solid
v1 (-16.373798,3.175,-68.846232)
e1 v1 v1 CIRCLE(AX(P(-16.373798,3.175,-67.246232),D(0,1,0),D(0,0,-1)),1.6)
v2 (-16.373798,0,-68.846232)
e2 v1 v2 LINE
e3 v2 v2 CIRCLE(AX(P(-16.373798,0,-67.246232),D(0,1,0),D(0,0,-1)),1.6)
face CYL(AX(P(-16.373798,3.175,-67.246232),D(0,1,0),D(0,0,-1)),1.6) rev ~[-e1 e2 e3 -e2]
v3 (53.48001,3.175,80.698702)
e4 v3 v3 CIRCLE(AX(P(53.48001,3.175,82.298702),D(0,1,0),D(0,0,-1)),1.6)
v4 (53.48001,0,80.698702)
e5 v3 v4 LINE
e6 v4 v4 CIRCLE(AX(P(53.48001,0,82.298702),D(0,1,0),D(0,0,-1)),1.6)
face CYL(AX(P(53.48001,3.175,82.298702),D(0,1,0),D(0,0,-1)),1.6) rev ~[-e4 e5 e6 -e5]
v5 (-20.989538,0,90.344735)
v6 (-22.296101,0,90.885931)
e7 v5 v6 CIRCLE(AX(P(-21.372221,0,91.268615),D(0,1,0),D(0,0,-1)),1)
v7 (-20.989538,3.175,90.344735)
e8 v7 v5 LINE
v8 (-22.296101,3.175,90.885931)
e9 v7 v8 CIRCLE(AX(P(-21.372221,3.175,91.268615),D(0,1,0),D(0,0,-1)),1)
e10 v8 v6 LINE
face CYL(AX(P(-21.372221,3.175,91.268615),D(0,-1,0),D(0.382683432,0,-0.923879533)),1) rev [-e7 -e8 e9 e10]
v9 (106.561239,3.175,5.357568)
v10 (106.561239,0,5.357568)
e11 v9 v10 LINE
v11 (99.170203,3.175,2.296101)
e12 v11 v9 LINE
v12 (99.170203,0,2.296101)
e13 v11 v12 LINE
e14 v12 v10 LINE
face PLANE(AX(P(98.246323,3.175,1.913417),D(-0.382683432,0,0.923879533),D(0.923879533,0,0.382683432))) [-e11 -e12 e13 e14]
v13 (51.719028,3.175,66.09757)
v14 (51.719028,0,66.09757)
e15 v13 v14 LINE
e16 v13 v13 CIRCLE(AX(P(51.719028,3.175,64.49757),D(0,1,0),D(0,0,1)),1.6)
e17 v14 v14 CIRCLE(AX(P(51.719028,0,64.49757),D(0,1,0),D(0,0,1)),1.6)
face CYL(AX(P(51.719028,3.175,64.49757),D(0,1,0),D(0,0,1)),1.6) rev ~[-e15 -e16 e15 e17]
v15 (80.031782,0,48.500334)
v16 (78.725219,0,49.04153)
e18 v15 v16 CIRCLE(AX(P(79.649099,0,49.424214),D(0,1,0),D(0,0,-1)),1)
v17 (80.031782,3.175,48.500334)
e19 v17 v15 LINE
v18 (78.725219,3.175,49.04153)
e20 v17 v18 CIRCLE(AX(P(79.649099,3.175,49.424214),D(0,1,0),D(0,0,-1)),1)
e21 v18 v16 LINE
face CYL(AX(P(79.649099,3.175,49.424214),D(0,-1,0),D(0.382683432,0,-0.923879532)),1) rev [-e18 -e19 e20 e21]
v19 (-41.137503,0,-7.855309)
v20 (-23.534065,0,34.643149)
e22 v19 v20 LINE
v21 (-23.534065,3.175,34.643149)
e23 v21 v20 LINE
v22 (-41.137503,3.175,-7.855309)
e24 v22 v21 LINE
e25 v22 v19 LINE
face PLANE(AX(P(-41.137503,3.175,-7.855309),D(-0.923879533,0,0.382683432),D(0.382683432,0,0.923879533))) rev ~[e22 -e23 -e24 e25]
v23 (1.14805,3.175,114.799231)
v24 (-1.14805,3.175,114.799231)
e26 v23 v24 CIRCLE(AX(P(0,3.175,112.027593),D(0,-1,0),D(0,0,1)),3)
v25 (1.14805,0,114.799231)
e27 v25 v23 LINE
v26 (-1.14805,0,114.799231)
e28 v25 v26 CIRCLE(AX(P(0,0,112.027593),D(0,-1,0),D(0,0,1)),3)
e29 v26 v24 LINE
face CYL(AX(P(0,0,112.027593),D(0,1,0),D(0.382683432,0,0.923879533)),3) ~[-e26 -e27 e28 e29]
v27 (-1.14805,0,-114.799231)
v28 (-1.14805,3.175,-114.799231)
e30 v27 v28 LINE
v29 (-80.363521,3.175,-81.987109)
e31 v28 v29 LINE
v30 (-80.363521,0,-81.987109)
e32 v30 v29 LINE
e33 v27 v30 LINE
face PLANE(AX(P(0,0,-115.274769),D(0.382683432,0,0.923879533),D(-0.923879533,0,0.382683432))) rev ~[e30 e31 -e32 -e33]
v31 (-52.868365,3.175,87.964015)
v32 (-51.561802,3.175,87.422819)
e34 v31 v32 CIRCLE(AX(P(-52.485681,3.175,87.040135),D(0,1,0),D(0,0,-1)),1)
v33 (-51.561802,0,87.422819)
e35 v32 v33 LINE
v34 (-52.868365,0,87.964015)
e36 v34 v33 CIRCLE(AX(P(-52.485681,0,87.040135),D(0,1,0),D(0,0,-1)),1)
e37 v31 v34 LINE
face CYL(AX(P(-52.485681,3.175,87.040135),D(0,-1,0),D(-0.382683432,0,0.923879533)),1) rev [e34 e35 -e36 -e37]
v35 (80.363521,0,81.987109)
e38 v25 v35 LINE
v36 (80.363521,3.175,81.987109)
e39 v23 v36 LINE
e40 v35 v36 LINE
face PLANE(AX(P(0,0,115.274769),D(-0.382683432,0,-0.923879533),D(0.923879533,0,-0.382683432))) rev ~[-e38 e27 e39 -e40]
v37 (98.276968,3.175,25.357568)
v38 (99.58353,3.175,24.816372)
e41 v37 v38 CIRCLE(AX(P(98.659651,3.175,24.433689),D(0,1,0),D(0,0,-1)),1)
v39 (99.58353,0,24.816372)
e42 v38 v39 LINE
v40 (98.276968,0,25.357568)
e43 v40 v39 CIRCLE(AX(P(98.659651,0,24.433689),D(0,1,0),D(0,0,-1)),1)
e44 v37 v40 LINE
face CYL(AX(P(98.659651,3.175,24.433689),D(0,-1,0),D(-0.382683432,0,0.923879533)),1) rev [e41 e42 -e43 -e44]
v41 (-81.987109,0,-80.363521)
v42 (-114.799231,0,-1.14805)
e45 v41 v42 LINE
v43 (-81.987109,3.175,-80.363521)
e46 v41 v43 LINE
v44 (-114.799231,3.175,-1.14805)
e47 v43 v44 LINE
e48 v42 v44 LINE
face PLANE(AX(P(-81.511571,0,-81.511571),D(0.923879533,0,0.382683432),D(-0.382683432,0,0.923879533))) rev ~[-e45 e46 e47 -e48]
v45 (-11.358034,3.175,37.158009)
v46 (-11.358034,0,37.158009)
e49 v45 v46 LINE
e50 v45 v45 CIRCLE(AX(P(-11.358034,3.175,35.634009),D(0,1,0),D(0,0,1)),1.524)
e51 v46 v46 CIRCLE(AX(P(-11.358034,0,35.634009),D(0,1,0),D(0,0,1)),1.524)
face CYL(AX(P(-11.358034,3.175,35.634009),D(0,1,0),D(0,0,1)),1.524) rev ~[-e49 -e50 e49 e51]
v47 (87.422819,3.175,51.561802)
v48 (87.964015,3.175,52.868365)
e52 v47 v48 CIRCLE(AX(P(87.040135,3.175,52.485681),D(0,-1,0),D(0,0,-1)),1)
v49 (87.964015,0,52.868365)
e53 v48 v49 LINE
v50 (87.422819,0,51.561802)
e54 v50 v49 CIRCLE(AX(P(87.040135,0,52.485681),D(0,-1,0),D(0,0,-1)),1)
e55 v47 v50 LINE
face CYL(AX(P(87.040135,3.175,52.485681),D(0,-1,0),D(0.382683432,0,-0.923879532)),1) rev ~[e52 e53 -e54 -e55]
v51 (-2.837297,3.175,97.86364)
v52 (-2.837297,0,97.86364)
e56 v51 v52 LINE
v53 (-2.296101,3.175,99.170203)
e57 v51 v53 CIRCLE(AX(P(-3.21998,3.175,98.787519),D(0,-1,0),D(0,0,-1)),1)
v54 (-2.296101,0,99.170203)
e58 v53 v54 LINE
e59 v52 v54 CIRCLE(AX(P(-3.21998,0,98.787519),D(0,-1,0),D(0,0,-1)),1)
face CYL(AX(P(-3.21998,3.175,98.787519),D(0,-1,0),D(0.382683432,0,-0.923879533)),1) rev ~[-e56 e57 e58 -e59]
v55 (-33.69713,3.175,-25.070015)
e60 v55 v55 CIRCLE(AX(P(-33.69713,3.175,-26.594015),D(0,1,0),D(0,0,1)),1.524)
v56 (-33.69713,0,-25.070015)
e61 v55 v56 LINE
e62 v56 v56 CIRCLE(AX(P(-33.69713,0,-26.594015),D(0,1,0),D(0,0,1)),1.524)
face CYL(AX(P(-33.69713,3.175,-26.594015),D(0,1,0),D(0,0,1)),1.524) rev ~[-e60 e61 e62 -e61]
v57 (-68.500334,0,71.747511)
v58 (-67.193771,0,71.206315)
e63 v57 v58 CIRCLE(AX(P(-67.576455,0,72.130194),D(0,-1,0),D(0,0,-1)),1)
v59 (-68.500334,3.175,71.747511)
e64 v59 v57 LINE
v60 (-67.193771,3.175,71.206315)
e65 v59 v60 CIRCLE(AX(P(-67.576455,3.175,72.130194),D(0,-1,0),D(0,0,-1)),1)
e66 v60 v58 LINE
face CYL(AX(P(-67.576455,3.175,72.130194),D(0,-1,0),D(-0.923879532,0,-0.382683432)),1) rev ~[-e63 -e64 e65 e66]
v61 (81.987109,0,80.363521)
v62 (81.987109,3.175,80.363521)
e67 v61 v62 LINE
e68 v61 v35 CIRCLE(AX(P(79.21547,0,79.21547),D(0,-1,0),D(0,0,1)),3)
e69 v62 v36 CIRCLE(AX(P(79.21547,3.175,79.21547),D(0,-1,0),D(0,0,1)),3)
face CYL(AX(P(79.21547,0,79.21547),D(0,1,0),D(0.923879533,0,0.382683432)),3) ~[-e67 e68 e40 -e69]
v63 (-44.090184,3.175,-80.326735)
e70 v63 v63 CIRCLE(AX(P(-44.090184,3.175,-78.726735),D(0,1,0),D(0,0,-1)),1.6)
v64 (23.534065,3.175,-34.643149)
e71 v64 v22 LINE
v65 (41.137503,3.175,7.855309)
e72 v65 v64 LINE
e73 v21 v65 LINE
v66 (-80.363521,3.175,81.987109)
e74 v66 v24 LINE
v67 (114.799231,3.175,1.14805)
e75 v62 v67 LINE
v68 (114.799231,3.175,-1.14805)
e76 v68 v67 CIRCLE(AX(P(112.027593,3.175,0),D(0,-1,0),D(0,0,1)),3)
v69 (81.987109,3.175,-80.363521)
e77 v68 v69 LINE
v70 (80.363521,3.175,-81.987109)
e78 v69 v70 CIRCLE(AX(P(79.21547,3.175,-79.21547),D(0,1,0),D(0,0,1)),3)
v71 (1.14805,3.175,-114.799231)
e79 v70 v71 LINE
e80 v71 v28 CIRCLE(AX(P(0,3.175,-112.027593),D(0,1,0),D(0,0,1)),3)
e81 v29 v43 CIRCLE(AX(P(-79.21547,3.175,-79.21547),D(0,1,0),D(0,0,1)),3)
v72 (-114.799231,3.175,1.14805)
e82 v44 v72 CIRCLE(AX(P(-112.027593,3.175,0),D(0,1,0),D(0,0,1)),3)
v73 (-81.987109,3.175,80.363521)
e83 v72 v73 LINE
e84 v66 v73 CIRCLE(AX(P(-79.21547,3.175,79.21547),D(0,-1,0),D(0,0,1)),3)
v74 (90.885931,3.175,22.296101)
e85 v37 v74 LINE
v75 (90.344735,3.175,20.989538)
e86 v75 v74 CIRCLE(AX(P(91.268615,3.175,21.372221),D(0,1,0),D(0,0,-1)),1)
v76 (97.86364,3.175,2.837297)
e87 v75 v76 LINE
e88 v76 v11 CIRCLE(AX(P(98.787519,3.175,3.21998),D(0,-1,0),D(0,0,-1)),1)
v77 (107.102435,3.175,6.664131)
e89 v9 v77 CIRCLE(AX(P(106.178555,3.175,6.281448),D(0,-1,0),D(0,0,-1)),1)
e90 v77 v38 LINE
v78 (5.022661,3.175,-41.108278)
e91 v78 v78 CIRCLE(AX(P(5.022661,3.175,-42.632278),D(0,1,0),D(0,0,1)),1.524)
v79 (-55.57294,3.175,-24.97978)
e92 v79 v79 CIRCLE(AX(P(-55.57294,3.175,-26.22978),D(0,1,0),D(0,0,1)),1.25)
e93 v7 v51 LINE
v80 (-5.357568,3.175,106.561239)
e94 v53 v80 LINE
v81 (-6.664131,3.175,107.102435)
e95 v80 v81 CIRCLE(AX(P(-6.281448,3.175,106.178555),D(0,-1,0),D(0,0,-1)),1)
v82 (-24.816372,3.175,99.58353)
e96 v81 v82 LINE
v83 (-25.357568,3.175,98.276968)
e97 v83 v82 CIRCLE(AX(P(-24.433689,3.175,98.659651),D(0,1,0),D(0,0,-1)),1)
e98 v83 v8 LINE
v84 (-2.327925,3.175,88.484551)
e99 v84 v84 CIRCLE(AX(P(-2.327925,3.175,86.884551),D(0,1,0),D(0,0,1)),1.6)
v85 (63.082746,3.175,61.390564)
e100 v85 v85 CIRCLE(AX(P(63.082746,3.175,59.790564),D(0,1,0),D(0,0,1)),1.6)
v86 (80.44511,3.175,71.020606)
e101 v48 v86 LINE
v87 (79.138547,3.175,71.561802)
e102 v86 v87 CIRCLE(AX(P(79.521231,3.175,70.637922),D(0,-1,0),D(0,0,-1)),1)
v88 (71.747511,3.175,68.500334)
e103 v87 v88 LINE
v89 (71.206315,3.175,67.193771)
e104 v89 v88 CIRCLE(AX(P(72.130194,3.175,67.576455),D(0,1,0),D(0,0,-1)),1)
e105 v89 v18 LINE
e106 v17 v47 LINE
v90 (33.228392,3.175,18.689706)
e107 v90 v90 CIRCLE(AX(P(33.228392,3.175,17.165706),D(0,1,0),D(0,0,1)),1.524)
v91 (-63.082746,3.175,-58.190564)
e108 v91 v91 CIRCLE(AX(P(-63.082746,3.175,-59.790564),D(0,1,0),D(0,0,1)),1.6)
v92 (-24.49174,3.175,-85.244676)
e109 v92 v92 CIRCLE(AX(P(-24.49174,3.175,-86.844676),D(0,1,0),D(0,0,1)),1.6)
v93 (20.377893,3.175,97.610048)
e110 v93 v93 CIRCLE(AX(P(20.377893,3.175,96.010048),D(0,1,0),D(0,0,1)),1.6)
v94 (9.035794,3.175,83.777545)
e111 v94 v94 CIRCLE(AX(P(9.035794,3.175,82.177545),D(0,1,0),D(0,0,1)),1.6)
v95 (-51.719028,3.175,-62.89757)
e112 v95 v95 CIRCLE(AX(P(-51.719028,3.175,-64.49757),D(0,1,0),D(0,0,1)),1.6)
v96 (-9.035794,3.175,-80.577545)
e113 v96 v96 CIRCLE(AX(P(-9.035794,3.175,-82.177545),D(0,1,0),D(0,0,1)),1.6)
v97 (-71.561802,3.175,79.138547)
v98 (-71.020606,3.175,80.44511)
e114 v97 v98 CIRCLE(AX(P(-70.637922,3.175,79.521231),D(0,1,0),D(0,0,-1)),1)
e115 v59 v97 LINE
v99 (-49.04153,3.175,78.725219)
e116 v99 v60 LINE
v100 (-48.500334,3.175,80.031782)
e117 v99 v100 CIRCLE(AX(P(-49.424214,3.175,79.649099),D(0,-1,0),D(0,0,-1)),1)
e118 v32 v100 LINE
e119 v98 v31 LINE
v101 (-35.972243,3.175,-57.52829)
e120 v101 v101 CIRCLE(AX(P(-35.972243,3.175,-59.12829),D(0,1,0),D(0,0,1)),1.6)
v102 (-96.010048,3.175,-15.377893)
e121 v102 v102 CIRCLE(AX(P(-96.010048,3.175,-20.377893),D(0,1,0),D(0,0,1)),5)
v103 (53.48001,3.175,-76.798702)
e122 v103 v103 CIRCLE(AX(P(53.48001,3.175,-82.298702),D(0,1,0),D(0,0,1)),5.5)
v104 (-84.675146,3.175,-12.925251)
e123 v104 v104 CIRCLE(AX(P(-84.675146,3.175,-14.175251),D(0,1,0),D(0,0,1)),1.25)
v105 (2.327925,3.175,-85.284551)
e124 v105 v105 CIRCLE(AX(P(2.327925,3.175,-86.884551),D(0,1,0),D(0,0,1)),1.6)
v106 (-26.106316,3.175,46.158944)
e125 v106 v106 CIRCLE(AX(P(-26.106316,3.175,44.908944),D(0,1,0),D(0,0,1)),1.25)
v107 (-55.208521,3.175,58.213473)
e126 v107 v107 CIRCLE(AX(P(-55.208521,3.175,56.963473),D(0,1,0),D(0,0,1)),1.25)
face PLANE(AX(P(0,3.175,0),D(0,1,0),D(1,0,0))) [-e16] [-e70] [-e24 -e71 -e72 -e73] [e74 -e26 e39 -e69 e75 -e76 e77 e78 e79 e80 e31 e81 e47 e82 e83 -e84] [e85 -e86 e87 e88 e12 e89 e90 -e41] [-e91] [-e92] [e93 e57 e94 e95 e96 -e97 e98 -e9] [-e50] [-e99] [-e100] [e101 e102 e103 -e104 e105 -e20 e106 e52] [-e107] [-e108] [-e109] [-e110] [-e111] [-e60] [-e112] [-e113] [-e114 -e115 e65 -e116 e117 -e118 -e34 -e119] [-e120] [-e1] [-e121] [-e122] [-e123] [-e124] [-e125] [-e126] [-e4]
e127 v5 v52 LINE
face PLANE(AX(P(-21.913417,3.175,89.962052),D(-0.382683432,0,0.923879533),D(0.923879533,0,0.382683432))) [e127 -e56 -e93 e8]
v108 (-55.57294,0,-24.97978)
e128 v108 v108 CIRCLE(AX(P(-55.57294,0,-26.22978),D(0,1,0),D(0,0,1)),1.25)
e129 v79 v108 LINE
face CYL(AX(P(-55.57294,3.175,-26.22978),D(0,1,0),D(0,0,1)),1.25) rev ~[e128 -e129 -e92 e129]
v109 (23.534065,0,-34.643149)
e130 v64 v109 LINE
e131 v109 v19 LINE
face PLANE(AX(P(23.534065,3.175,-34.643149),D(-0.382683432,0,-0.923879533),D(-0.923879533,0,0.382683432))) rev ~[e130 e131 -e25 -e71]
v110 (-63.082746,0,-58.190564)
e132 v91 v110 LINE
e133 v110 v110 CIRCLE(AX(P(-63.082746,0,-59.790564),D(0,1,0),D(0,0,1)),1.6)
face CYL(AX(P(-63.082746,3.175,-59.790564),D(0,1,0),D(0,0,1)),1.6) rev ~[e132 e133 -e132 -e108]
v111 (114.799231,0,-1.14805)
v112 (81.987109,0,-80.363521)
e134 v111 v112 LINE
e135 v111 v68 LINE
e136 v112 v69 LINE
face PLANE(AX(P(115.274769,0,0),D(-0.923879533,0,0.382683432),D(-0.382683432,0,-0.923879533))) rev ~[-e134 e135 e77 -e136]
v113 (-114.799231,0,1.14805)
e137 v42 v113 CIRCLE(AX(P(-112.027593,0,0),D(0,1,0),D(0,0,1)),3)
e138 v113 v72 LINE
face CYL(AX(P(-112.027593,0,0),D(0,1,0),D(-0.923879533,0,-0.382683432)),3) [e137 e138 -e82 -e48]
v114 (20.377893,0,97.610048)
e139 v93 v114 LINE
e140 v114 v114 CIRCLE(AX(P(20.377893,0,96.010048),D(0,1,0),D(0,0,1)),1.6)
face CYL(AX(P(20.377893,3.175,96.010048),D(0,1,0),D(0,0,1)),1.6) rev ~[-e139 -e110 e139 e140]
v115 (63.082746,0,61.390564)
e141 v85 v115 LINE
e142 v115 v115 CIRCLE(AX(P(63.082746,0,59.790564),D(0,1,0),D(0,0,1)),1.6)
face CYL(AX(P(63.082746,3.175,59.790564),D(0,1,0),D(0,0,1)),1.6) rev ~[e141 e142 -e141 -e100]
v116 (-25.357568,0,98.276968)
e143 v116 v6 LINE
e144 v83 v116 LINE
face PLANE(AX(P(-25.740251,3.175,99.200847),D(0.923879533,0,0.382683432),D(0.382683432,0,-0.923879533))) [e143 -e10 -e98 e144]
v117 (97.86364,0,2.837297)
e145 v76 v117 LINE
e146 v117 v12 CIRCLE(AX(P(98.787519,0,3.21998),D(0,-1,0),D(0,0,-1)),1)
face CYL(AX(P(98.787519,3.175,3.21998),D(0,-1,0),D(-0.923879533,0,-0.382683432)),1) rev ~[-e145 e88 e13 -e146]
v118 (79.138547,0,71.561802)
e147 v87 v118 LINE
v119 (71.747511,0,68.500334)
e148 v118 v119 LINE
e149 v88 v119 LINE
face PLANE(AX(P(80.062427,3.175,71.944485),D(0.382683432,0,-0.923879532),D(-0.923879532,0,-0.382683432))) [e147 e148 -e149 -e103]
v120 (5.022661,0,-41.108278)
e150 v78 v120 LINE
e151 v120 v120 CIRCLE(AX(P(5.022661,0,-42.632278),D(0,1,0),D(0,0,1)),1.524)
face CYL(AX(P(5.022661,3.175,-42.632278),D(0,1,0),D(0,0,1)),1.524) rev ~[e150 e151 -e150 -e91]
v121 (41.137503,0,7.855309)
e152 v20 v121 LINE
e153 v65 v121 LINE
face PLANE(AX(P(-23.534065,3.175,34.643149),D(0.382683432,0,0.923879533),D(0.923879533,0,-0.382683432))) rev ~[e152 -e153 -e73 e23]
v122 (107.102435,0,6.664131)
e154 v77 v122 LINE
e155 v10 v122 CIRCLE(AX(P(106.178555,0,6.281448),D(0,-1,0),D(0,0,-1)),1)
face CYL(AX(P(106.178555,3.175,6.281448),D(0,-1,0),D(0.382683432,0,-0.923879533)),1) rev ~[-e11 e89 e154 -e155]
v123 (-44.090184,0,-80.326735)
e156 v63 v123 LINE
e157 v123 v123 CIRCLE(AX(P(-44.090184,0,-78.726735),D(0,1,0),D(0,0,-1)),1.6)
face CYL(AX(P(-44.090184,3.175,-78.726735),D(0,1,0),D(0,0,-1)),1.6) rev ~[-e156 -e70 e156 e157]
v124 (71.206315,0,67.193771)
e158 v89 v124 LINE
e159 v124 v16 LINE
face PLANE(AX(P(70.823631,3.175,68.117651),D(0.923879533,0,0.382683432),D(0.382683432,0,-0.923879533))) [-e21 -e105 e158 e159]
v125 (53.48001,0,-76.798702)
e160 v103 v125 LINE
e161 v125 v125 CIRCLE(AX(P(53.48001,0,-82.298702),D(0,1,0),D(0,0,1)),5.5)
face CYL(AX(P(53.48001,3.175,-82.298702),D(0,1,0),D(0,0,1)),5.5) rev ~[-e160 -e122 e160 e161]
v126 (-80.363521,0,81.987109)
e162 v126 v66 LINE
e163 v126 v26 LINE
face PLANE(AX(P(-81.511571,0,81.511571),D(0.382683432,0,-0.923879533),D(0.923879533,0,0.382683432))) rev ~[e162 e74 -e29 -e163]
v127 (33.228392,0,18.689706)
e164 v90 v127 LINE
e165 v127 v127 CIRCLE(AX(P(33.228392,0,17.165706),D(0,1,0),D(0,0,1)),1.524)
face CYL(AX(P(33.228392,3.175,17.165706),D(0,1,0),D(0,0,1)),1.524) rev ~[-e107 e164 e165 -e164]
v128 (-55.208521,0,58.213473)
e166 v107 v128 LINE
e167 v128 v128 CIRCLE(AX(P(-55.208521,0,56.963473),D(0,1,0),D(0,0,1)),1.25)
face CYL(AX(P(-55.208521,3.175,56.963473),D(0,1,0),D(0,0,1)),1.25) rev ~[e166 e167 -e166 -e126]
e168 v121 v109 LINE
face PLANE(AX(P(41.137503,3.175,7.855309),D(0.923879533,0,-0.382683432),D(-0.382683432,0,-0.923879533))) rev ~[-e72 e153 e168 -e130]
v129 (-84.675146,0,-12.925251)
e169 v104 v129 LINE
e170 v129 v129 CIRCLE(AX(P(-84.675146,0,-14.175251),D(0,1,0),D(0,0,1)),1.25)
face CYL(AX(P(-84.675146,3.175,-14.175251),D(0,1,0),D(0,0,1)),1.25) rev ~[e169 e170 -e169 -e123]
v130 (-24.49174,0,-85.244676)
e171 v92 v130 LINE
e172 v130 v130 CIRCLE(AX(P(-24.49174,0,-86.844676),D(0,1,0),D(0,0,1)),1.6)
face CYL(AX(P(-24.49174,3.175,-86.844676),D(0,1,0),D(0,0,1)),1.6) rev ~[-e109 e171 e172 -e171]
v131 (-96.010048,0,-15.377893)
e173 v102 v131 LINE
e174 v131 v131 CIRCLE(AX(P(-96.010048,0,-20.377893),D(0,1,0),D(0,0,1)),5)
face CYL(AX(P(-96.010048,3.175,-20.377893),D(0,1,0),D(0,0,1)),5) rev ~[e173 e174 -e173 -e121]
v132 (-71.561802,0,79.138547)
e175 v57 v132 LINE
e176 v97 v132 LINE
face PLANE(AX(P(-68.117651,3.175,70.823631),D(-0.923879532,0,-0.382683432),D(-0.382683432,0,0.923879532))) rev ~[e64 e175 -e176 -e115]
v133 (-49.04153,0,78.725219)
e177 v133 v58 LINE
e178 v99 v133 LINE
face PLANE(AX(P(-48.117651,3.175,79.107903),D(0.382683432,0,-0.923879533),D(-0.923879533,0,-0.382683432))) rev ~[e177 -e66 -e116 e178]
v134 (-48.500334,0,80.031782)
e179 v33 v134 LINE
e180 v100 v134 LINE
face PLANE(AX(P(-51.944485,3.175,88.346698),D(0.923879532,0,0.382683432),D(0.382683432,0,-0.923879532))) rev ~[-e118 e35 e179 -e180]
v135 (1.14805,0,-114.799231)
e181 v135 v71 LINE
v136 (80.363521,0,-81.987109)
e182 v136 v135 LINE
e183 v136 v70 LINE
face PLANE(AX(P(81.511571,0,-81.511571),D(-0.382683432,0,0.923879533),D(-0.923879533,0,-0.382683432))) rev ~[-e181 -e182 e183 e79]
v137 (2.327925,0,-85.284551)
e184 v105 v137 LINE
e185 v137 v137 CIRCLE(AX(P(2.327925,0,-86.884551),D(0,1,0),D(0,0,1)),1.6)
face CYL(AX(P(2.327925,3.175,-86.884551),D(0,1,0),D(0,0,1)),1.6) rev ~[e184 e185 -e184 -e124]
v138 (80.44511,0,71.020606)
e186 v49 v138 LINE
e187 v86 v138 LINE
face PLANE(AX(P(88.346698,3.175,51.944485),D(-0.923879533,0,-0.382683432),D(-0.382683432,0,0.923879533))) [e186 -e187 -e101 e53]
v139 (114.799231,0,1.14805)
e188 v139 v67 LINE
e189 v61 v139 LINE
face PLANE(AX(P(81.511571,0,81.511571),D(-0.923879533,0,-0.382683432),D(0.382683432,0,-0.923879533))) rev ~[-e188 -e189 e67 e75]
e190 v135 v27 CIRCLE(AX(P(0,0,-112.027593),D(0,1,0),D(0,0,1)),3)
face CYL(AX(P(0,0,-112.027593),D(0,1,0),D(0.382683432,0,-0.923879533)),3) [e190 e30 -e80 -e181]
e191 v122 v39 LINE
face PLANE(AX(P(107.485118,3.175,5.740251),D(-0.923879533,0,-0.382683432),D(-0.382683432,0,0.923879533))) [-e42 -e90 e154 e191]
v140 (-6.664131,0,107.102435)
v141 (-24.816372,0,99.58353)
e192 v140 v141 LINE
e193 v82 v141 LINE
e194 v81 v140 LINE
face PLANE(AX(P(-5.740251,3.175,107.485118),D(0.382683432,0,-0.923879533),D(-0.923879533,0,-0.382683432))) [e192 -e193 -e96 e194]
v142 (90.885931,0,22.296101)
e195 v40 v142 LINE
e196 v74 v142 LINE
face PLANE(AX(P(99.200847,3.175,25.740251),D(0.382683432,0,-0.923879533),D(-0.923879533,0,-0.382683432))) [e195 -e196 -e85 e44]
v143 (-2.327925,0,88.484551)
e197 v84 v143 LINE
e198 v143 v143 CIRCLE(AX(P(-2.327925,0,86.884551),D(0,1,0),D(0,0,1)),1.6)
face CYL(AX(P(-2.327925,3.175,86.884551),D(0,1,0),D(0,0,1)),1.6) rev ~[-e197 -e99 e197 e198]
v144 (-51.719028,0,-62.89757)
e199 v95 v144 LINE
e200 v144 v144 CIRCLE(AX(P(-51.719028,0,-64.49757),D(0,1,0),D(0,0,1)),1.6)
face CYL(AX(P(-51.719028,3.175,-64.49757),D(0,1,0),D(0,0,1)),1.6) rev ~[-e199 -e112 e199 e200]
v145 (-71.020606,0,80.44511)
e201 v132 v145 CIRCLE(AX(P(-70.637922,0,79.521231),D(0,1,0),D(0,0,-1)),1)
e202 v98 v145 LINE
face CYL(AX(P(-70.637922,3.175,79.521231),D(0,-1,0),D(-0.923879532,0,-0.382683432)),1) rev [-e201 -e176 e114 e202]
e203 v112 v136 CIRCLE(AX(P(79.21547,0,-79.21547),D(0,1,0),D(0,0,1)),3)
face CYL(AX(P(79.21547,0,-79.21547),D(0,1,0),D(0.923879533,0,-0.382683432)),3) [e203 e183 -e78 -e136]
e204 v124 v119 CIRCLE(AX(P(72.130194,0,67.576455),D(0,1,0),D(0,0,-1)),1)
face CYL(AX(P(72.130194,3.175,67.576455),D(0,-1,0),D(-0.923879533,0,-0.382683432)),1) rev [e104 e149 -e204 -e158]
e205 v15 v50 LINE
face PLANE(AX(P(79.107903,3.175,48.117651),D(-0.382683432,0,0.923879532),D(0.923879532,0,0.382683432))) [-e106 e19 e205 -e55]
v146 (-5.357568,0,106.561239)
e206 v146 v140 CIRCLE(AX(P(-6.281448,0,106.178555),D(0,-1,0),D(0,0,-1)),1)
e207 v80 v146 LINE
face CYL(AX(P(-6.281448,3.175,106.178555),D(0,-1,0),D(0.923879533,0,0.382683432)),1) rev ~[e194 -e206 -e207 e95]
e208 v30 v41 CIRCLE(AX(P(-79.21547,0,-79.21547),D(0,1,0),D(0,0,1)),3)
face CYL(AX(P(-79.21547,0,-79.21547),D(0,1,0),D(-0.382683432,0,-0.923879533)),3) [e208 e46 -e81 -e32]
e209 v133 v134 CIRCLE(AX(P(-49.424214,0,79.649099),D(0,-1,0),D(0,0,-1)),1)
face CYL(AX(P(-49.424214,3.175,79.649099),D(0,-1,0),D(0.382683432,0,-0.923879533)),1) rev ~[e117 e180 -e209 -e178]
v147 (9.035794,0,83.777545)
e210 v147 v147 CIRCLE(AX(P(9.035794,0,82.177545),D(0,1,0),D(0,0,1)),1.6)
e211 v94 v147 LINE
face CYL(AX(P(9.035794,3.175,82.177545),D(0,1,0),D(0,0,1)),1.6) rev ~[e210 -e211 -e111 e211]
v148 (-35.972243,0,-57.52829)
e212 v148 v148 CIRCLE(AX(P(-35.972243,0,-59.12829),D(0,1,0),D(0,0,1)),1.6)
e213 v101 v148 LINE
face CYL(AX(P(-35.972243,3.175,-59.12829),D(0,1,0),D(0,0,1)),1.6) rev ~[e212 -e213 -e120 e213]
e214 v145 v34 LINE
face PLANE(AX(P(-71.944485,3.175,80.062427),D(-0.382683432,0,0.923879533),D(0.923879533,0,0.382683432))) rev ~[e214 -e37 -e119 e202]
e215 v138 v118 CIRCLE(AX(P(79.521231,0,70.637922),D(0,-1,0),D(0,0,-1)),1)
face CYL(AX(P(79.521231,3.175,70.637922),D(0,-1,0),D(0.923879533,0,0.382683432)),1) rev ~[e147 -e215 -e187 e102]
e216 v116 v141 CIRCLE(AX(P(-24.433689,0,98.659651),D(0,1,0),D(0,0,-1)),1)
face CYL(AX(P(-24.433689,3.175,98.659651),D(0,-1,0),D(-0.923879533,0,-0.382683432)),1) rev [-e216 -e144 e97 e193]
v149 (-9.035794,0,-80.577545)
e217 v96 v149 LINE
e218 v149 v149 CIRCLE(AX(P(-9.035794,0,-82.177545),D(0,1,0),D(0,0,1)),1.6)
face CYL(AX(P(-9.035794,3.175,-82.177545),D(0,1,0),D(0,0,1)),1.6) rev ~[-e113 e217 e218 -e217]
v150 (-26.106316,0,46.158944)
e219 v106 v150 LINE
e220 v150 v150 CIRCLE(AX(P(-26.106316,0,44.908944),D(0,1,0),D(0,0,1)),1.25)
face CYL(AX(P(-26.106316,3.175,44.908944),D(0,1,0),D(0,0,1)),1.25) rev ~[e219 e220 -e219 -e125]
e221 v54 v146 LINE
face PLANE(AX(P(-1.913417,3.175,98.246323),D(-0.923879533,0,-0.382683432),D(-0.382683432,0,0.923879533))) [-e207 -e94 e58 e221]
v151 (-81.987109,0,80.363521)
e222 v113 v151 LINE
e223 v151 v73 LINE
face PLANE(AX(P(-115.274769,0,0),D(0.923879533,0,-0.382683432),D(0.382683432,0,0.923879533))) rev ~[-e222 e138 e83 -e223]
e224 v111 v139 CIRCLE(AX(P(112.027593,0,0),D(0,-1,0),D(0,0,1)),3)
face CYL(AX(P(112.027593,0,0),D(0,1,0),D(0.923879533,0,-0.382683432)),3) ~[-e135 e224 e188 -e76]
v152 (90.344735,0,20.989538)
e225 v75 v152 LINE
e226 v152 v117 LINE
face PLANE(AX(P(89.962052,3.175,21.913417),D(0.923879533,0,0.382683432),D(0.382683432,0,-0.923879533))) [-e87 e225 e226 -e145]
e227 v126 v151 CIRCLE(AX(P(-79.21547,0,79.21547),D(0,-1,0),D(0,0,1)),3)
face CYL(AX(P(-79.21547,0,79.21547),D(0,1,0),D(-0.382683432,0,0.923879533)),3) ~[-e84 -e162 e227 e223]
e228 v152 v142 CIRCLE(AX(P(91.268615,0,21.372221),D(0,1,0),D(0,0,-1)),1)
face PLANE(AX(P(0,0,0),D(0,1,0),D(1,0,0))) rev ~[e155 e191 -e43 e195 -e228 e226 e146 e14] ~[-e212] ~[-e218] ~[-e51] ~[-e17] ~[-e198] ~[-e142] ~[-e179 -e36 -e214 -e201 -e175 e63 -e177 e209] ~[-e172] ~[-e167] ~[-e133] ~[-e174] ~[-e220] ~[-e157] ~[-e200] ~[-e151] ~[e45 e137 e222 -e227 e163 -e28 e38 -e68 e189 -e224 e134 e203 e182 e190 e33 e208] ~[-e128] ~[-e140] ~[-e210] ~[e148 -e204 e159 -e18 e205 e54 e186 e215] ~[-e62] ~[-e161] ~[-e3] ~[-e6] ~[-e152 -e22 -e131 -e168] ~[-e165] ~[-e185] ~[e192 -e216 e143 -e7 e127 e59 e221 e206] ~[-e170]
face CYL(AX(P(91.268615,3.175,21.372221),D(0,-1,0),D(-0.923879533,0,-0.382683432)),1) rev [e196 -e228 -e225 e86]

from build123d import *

# Parameters (mm, degrees)
BOSS_EXTRUDE1_DEPTH = 3.175
SKETCH2_R           = 1.6
CUT_EXTRUDE1_DEPTH  = 164.054057029
SKETCH3_R           = 5
SKETCH3_R_2         = 1.6
SKETCH3_R_3         = 5.5
CUT_EXTRUDE2_DEPTH  = 164.054057029
SKETCH5_R           = 1.524
CUT_EXTRUDE3_DEPTH  = 164.054057029
CUT_EXTRUDE4_DEPTH  = 164.054057029
SKETCH8_R           = 1.25
CUT_EXTRUDE5_DEPTH  = 164.054057029
SKETCH9_W           = 27.941695013
SKETCH9_H           = 13.477758771
SKETCH9_W_2         = 30.242775778
SKETCH9_H_2         = 17.203318106
SKETCH9_W_3         = 23.480845259
SKETCH9_H_3         = 15.425198082
SKETCH9_W_4         = 27.275197361
SKETCH9_H_4         = 16.833910872
BOSS_EXTRUDE2_DEPTH = 3.175
SKETCH16_R          = 1.6
CUT_EXTRUDE6_DEPTH  = 10
FILLET1_R           = 3
FILLET2_R           = 1


with BuildPart() as part:
    # Sketch1 → Boss-Extrude1 (new body)
    with BuildSketch(Plane(origin=(0, 0, 0), x_dir=(1, 0, 0), z_dir=(0, 1, 0))):
        Polygon((115.274769331, 0), (81.511571094, 81.511571094), (0, 115.274769331), (-81.511571094, 81.511571094), (-115.274769331, 0), (-81.511571094, -81.511571094), (0, -115.274769331), (81.511571094, -81.511571094), align=None)
    extrude(amount=BOSS_EXTRUDE1_DEPTH)

    # Sketch2 → Cut-Extrude1 (cut, through all)
    with BuildSketch(Plane(origin=(0, 3.175, 0), x_dir=(1, 0, 0), z_dir=(0, 1, 0))):
        with Locations(Location((-8.982761909, 81.788202013, 0), (0, 0, 270))):
            Circle(SKETCH2_R)
        with Locations(Location((3.951551546, 87.145770066, 0), (0, 0, 270))):
            Circle(SKETCH2_R)
        with Locations(Location((-64.41553386, 58.827196071, 0), (0, 0, 90))):
            Circle(SKETCH2_R)
        with Locations(Location((-51.481220405, 64.184764124, 0), (0, 0, 90))):
            Circle(SKETCH2_R)
        with Locations(Location((64.41553386, -58.827196071, 0), (0, 0, 90))):
            Circle(SKETCH2_R)
        with Locations(Location((51.481220405, -64.184764124, 0), (0, 0, 90))):
            Circle(SKETCH2_R)
        with Locations(Location((8.982761909, -81.788202013, 0), (0, 0, 270))):
            Circle(SKETCH2_R)
        with Locations(Location((-3.951551546, -87.145770066, 0), (0, 0, 270))):
            Circle(SKETCH2_R)
    extrude(amount=-CUT_EXTRUDE1_DEPTH, mode=Mode.SUBTRACT)

    # Sketch3 → Cut-Extrude2 (cut, through all)
    with BuildSketch(Plane(origin=(0, 3.175, 0), x_dir=(1, 0, 0), z_dir=(0, 1, 0))):
        with Locations(Location((-96.010047769, 20.377892773, 0), (0, 0, 270))):
            Circle(SKETCH3_R)
        with Locations(Location((20.377892773, -96.010047769, 0), (0, 0, 270))):
            Circle(SKETCH3_R_2)
        with Locations(Location((53.480009673, -82.298702006, 0), (0, 0, 90))):
            Circle(SKETCH3_R_2)
        with Locations(Location((-24.491739671, 86.844676056, 0), (0, 0, 270))):
            Circle(SKETCH3_R_2)
        with Locations(Location((-44.090184145, 78.726734554, 0), (0, 0, 90))):
            Circle(SKETCH3_R_2)
        with Locations(Location((-35.972242642, 59.128290081, 0), (0, 0, 270))):
            Circle(SKETCH3_R_2)
        with Locations(Location((-16.373798169, 67.246231583, 0), (0, 0, 90))):
            Circle(SKETCH3_R_2)
        with Locations(Location((53.480009673, 82.298702006, 0), (0, 0, 270))):
            Circle(SKETCH3_R_3)
        Polygon((-68.117650961, -70.823631462), (-71.944485285, -80.062426787), (-51.944485285, -88.346698034), (-48.117650961, -79.107902709), align=None)
        Polygon((-1.913417162, -98.246322988), (-5.740251485, -107.485118313), (-25.740251485, -99.200847065), (-21.913417162, -89.96205174), align=None)
        Polygon((88.346698034, -51.944485285), (80.062426787, -71.944485285), (70.823631462, -68.117650961), (79.107902709, -48.117650961), align=None)
        Polygon((98.246322988, -1.913417162), (107.485118313, -5.740251485), (99.200847066, -25.740251485), (89.96205174, -21.913417162), align=None)
    extrude(amount=-CUT_EXTRUDE2_DEPTH, mode=Mode.SUBTRACT)

    # Sketch5 → Cut-Extrude3 (cut, through all)
    with BuildSketch(Plane(origin=(0, 3.175, 0), x_dir=(1, 0, 0), z_dir=(0, 1, 0))):
        with Locations(Location((33.228392199, -17.165706419, 0), (0, 0, 270))):
            Circle(SKETCH5_R)
        with Locations(Location((-11.35803404, -35.634008864, 0), (0, 0, 270))):
            Circle(SKETCH5_R)
        with Locations(Location((-33.697130397, 26.59401536, 0), (0, 0, 270))):
            Circle(SKETCH5_R)
        with Locations(Location((5.02266081, 42.632278011, 0), (0, 0, 270))):
            Circle(SKETCH5_R)
    extrude(amount=-CUT_EXTRUDE3_DEPTH, mode=Mode.SUBTRACT)

    # Sketch6 → Cut-Extrude4 (cut, through all)
    with BuildSketch(Plane(origin=(0, 3.175, 0), x_dir=(1, 0, 0), z_dir=(0, 1, 0))):
        Polygon((41.137502582, -7.855309115), (23.534064693, 34.643149381), (-41.137502582, 7.855309115), (-23.534064693, -34.643149381), align=None)
    extrude(amount=-CUT_EXTRUDE4_DEPTH, mode=Mode.SUBTRACT)

    # Sketch8 → Cut-Extrude5 (cut, through all)
    with BuildSketch(Plane(origin=(0, 3.175, 0), x_dir=(1, 0, 0), z_dir=(0, 1, 0))):
        with Locations(Location((-55.208521245, -56.963472567, 0), (0, 0, 270))):
            Circle(SKETCH8_R)
        with Locations(Location((-26.106315971, -44.908944448, 0), (0, 0, 270))):
            Circle(SKETCH8_R)
        with Locations(Location((-84.675145537, 14.175251436, 0), (0, 0, 270))):
            Circle(SKETCH8_R)
        with Locations(Location((-55.572940263, 26.229779555, 0), (0, 0, 270))):
            Circle(SKETCH8_R)
    extrude(amount=-CUT_EXTRUDE5_DEPTH, mode=Mode.SUBTRACT)

    # Sketch9 → Boss-Extrude2 (add)
    with BuildSketch(Plane(origin=(0, 3.175, 0), x_dir=(1, 0, 0), z_dir=(0, 1, 0))):
        with Locations((-58.48921623, 61.487322726)):
            Rectangle(SKETCH9_W, SKETCH9_H)
        with Locations((3.475601533, 82.74492599)):
            Rectangle(SKETCH9_W_2, SKETCH9_H_2)
        with Locations((2.615763969, -84.269263782)):
            Rectangle(SKETCH9_W_3, SKETCH9_H_3)
        with Locations((52.818476628, -60.231828394)):
            Rectangle(SKETCH9_W_4, SKETCH9_H_4)
    extrude(amount=-BOSS_EXTRUDE2_DEPTH)

    # Sketch16 → Cut-Extrude6 (cut)
    with BuildSketch(Plane(origin=(0, 3.175, 0), x_dir=(1, 0, 0), z_dir=(0, 1, 0))):
        with Locations(Location((-51.719028062, 64.497570003, 0), (0, 0, 270))):
            Circle(SKETCH16_R)
        with Locations(Location((-63.082746312, 59.790563785, 0), (0, 0, 270))):
            Circle(SKETCH16_R)
        with Locations(Location((-9.03579366, 82.177544578, 0), (0, 0, 270))):
            Circle(SKETCH16_R)
        with Locations(Location((2.32792459, 86.884550796, 0), (0, 0, 270))):
            Circle(SKETCH16_R)
        with Locations(Location((63.082746312, -59.790563785, 0), (0, 0, 270))):
            Circle(SKETCH16_R)
        with Locations(Location((51.719028062, -64.497570003, 0), (0, 0, 270))):
            Circle(SKETCH16_R)
        with Locations(Location((9.03579366, -82.177544578, 0), (0, 0, 270))):
            Circle(SKETCH16_R)
        with Locations(Location((-2.32792459, -86.884550796, 0), (0, 0, 270))):
            Circle(SKETCH16_R)
    extrude(amount=-CUT_EXTRUDE6_DEPTH, mode=Mode.SUBTRACT)

    # Fillet1
    fillet1_edges = [part.edges().sort_by_distance(p)[0] for p in [
        (81.511571094, 1.5875, 81.511571094),
        (0, 1.5875, 115.274769331),
        (-81.511571094, 1.5875, 81.511571094),
        (-115.274769331, 1.5875, 0),
        (-81.511571094, 1.5875, -81.511571094),
        (0, 1.5875, -115.274769331),
        (81.511571094, 1.5875, -81.511571094),
        (115.274769331, 1.5875, 0),
    ]]
    fillet(fillet1_edges, radius=FILLET1_R)

    # Fillet2
    fillet2_edges = [part.edges().sort_by_distance(p)[0] for p in [
        (79.107902709, 1.5875, 48.117650961),
        (88.346698034, 1.5875, 51.944485285),
        (80.062426787, 1.5875, 71.944485285),
        (70.823631462, 1.5875, 68.117650961),
        (89.96205174, 1.5875, 21.913417162),
        (98.246322988, 1.5875, 1.913417162),
        (107.485118313, 1.5875, 5.740251485),
        (99.200847066, 1.5875, 25.740251485),
        (-51.944485285, 1.5875, 88.346698034),
        (-71.944485285, 1.5875, 80.062426787),
        (-68.117650961, 1.5875, 70.823631462),
        (-48.117650961, 1.5875, 79.107902709),
        (-21.913417162, 1.5875, 89.96205174),
        (-1.913417162, 1.5875, 98.246322988),
        (-5.740251485, 1.5875, 107.485118313),
        (-25.740251485, 1.5875, 99.200847065),
    ]]
    fillet(fillet2_edges, radius=FILLET2_R)


solid = part.part
